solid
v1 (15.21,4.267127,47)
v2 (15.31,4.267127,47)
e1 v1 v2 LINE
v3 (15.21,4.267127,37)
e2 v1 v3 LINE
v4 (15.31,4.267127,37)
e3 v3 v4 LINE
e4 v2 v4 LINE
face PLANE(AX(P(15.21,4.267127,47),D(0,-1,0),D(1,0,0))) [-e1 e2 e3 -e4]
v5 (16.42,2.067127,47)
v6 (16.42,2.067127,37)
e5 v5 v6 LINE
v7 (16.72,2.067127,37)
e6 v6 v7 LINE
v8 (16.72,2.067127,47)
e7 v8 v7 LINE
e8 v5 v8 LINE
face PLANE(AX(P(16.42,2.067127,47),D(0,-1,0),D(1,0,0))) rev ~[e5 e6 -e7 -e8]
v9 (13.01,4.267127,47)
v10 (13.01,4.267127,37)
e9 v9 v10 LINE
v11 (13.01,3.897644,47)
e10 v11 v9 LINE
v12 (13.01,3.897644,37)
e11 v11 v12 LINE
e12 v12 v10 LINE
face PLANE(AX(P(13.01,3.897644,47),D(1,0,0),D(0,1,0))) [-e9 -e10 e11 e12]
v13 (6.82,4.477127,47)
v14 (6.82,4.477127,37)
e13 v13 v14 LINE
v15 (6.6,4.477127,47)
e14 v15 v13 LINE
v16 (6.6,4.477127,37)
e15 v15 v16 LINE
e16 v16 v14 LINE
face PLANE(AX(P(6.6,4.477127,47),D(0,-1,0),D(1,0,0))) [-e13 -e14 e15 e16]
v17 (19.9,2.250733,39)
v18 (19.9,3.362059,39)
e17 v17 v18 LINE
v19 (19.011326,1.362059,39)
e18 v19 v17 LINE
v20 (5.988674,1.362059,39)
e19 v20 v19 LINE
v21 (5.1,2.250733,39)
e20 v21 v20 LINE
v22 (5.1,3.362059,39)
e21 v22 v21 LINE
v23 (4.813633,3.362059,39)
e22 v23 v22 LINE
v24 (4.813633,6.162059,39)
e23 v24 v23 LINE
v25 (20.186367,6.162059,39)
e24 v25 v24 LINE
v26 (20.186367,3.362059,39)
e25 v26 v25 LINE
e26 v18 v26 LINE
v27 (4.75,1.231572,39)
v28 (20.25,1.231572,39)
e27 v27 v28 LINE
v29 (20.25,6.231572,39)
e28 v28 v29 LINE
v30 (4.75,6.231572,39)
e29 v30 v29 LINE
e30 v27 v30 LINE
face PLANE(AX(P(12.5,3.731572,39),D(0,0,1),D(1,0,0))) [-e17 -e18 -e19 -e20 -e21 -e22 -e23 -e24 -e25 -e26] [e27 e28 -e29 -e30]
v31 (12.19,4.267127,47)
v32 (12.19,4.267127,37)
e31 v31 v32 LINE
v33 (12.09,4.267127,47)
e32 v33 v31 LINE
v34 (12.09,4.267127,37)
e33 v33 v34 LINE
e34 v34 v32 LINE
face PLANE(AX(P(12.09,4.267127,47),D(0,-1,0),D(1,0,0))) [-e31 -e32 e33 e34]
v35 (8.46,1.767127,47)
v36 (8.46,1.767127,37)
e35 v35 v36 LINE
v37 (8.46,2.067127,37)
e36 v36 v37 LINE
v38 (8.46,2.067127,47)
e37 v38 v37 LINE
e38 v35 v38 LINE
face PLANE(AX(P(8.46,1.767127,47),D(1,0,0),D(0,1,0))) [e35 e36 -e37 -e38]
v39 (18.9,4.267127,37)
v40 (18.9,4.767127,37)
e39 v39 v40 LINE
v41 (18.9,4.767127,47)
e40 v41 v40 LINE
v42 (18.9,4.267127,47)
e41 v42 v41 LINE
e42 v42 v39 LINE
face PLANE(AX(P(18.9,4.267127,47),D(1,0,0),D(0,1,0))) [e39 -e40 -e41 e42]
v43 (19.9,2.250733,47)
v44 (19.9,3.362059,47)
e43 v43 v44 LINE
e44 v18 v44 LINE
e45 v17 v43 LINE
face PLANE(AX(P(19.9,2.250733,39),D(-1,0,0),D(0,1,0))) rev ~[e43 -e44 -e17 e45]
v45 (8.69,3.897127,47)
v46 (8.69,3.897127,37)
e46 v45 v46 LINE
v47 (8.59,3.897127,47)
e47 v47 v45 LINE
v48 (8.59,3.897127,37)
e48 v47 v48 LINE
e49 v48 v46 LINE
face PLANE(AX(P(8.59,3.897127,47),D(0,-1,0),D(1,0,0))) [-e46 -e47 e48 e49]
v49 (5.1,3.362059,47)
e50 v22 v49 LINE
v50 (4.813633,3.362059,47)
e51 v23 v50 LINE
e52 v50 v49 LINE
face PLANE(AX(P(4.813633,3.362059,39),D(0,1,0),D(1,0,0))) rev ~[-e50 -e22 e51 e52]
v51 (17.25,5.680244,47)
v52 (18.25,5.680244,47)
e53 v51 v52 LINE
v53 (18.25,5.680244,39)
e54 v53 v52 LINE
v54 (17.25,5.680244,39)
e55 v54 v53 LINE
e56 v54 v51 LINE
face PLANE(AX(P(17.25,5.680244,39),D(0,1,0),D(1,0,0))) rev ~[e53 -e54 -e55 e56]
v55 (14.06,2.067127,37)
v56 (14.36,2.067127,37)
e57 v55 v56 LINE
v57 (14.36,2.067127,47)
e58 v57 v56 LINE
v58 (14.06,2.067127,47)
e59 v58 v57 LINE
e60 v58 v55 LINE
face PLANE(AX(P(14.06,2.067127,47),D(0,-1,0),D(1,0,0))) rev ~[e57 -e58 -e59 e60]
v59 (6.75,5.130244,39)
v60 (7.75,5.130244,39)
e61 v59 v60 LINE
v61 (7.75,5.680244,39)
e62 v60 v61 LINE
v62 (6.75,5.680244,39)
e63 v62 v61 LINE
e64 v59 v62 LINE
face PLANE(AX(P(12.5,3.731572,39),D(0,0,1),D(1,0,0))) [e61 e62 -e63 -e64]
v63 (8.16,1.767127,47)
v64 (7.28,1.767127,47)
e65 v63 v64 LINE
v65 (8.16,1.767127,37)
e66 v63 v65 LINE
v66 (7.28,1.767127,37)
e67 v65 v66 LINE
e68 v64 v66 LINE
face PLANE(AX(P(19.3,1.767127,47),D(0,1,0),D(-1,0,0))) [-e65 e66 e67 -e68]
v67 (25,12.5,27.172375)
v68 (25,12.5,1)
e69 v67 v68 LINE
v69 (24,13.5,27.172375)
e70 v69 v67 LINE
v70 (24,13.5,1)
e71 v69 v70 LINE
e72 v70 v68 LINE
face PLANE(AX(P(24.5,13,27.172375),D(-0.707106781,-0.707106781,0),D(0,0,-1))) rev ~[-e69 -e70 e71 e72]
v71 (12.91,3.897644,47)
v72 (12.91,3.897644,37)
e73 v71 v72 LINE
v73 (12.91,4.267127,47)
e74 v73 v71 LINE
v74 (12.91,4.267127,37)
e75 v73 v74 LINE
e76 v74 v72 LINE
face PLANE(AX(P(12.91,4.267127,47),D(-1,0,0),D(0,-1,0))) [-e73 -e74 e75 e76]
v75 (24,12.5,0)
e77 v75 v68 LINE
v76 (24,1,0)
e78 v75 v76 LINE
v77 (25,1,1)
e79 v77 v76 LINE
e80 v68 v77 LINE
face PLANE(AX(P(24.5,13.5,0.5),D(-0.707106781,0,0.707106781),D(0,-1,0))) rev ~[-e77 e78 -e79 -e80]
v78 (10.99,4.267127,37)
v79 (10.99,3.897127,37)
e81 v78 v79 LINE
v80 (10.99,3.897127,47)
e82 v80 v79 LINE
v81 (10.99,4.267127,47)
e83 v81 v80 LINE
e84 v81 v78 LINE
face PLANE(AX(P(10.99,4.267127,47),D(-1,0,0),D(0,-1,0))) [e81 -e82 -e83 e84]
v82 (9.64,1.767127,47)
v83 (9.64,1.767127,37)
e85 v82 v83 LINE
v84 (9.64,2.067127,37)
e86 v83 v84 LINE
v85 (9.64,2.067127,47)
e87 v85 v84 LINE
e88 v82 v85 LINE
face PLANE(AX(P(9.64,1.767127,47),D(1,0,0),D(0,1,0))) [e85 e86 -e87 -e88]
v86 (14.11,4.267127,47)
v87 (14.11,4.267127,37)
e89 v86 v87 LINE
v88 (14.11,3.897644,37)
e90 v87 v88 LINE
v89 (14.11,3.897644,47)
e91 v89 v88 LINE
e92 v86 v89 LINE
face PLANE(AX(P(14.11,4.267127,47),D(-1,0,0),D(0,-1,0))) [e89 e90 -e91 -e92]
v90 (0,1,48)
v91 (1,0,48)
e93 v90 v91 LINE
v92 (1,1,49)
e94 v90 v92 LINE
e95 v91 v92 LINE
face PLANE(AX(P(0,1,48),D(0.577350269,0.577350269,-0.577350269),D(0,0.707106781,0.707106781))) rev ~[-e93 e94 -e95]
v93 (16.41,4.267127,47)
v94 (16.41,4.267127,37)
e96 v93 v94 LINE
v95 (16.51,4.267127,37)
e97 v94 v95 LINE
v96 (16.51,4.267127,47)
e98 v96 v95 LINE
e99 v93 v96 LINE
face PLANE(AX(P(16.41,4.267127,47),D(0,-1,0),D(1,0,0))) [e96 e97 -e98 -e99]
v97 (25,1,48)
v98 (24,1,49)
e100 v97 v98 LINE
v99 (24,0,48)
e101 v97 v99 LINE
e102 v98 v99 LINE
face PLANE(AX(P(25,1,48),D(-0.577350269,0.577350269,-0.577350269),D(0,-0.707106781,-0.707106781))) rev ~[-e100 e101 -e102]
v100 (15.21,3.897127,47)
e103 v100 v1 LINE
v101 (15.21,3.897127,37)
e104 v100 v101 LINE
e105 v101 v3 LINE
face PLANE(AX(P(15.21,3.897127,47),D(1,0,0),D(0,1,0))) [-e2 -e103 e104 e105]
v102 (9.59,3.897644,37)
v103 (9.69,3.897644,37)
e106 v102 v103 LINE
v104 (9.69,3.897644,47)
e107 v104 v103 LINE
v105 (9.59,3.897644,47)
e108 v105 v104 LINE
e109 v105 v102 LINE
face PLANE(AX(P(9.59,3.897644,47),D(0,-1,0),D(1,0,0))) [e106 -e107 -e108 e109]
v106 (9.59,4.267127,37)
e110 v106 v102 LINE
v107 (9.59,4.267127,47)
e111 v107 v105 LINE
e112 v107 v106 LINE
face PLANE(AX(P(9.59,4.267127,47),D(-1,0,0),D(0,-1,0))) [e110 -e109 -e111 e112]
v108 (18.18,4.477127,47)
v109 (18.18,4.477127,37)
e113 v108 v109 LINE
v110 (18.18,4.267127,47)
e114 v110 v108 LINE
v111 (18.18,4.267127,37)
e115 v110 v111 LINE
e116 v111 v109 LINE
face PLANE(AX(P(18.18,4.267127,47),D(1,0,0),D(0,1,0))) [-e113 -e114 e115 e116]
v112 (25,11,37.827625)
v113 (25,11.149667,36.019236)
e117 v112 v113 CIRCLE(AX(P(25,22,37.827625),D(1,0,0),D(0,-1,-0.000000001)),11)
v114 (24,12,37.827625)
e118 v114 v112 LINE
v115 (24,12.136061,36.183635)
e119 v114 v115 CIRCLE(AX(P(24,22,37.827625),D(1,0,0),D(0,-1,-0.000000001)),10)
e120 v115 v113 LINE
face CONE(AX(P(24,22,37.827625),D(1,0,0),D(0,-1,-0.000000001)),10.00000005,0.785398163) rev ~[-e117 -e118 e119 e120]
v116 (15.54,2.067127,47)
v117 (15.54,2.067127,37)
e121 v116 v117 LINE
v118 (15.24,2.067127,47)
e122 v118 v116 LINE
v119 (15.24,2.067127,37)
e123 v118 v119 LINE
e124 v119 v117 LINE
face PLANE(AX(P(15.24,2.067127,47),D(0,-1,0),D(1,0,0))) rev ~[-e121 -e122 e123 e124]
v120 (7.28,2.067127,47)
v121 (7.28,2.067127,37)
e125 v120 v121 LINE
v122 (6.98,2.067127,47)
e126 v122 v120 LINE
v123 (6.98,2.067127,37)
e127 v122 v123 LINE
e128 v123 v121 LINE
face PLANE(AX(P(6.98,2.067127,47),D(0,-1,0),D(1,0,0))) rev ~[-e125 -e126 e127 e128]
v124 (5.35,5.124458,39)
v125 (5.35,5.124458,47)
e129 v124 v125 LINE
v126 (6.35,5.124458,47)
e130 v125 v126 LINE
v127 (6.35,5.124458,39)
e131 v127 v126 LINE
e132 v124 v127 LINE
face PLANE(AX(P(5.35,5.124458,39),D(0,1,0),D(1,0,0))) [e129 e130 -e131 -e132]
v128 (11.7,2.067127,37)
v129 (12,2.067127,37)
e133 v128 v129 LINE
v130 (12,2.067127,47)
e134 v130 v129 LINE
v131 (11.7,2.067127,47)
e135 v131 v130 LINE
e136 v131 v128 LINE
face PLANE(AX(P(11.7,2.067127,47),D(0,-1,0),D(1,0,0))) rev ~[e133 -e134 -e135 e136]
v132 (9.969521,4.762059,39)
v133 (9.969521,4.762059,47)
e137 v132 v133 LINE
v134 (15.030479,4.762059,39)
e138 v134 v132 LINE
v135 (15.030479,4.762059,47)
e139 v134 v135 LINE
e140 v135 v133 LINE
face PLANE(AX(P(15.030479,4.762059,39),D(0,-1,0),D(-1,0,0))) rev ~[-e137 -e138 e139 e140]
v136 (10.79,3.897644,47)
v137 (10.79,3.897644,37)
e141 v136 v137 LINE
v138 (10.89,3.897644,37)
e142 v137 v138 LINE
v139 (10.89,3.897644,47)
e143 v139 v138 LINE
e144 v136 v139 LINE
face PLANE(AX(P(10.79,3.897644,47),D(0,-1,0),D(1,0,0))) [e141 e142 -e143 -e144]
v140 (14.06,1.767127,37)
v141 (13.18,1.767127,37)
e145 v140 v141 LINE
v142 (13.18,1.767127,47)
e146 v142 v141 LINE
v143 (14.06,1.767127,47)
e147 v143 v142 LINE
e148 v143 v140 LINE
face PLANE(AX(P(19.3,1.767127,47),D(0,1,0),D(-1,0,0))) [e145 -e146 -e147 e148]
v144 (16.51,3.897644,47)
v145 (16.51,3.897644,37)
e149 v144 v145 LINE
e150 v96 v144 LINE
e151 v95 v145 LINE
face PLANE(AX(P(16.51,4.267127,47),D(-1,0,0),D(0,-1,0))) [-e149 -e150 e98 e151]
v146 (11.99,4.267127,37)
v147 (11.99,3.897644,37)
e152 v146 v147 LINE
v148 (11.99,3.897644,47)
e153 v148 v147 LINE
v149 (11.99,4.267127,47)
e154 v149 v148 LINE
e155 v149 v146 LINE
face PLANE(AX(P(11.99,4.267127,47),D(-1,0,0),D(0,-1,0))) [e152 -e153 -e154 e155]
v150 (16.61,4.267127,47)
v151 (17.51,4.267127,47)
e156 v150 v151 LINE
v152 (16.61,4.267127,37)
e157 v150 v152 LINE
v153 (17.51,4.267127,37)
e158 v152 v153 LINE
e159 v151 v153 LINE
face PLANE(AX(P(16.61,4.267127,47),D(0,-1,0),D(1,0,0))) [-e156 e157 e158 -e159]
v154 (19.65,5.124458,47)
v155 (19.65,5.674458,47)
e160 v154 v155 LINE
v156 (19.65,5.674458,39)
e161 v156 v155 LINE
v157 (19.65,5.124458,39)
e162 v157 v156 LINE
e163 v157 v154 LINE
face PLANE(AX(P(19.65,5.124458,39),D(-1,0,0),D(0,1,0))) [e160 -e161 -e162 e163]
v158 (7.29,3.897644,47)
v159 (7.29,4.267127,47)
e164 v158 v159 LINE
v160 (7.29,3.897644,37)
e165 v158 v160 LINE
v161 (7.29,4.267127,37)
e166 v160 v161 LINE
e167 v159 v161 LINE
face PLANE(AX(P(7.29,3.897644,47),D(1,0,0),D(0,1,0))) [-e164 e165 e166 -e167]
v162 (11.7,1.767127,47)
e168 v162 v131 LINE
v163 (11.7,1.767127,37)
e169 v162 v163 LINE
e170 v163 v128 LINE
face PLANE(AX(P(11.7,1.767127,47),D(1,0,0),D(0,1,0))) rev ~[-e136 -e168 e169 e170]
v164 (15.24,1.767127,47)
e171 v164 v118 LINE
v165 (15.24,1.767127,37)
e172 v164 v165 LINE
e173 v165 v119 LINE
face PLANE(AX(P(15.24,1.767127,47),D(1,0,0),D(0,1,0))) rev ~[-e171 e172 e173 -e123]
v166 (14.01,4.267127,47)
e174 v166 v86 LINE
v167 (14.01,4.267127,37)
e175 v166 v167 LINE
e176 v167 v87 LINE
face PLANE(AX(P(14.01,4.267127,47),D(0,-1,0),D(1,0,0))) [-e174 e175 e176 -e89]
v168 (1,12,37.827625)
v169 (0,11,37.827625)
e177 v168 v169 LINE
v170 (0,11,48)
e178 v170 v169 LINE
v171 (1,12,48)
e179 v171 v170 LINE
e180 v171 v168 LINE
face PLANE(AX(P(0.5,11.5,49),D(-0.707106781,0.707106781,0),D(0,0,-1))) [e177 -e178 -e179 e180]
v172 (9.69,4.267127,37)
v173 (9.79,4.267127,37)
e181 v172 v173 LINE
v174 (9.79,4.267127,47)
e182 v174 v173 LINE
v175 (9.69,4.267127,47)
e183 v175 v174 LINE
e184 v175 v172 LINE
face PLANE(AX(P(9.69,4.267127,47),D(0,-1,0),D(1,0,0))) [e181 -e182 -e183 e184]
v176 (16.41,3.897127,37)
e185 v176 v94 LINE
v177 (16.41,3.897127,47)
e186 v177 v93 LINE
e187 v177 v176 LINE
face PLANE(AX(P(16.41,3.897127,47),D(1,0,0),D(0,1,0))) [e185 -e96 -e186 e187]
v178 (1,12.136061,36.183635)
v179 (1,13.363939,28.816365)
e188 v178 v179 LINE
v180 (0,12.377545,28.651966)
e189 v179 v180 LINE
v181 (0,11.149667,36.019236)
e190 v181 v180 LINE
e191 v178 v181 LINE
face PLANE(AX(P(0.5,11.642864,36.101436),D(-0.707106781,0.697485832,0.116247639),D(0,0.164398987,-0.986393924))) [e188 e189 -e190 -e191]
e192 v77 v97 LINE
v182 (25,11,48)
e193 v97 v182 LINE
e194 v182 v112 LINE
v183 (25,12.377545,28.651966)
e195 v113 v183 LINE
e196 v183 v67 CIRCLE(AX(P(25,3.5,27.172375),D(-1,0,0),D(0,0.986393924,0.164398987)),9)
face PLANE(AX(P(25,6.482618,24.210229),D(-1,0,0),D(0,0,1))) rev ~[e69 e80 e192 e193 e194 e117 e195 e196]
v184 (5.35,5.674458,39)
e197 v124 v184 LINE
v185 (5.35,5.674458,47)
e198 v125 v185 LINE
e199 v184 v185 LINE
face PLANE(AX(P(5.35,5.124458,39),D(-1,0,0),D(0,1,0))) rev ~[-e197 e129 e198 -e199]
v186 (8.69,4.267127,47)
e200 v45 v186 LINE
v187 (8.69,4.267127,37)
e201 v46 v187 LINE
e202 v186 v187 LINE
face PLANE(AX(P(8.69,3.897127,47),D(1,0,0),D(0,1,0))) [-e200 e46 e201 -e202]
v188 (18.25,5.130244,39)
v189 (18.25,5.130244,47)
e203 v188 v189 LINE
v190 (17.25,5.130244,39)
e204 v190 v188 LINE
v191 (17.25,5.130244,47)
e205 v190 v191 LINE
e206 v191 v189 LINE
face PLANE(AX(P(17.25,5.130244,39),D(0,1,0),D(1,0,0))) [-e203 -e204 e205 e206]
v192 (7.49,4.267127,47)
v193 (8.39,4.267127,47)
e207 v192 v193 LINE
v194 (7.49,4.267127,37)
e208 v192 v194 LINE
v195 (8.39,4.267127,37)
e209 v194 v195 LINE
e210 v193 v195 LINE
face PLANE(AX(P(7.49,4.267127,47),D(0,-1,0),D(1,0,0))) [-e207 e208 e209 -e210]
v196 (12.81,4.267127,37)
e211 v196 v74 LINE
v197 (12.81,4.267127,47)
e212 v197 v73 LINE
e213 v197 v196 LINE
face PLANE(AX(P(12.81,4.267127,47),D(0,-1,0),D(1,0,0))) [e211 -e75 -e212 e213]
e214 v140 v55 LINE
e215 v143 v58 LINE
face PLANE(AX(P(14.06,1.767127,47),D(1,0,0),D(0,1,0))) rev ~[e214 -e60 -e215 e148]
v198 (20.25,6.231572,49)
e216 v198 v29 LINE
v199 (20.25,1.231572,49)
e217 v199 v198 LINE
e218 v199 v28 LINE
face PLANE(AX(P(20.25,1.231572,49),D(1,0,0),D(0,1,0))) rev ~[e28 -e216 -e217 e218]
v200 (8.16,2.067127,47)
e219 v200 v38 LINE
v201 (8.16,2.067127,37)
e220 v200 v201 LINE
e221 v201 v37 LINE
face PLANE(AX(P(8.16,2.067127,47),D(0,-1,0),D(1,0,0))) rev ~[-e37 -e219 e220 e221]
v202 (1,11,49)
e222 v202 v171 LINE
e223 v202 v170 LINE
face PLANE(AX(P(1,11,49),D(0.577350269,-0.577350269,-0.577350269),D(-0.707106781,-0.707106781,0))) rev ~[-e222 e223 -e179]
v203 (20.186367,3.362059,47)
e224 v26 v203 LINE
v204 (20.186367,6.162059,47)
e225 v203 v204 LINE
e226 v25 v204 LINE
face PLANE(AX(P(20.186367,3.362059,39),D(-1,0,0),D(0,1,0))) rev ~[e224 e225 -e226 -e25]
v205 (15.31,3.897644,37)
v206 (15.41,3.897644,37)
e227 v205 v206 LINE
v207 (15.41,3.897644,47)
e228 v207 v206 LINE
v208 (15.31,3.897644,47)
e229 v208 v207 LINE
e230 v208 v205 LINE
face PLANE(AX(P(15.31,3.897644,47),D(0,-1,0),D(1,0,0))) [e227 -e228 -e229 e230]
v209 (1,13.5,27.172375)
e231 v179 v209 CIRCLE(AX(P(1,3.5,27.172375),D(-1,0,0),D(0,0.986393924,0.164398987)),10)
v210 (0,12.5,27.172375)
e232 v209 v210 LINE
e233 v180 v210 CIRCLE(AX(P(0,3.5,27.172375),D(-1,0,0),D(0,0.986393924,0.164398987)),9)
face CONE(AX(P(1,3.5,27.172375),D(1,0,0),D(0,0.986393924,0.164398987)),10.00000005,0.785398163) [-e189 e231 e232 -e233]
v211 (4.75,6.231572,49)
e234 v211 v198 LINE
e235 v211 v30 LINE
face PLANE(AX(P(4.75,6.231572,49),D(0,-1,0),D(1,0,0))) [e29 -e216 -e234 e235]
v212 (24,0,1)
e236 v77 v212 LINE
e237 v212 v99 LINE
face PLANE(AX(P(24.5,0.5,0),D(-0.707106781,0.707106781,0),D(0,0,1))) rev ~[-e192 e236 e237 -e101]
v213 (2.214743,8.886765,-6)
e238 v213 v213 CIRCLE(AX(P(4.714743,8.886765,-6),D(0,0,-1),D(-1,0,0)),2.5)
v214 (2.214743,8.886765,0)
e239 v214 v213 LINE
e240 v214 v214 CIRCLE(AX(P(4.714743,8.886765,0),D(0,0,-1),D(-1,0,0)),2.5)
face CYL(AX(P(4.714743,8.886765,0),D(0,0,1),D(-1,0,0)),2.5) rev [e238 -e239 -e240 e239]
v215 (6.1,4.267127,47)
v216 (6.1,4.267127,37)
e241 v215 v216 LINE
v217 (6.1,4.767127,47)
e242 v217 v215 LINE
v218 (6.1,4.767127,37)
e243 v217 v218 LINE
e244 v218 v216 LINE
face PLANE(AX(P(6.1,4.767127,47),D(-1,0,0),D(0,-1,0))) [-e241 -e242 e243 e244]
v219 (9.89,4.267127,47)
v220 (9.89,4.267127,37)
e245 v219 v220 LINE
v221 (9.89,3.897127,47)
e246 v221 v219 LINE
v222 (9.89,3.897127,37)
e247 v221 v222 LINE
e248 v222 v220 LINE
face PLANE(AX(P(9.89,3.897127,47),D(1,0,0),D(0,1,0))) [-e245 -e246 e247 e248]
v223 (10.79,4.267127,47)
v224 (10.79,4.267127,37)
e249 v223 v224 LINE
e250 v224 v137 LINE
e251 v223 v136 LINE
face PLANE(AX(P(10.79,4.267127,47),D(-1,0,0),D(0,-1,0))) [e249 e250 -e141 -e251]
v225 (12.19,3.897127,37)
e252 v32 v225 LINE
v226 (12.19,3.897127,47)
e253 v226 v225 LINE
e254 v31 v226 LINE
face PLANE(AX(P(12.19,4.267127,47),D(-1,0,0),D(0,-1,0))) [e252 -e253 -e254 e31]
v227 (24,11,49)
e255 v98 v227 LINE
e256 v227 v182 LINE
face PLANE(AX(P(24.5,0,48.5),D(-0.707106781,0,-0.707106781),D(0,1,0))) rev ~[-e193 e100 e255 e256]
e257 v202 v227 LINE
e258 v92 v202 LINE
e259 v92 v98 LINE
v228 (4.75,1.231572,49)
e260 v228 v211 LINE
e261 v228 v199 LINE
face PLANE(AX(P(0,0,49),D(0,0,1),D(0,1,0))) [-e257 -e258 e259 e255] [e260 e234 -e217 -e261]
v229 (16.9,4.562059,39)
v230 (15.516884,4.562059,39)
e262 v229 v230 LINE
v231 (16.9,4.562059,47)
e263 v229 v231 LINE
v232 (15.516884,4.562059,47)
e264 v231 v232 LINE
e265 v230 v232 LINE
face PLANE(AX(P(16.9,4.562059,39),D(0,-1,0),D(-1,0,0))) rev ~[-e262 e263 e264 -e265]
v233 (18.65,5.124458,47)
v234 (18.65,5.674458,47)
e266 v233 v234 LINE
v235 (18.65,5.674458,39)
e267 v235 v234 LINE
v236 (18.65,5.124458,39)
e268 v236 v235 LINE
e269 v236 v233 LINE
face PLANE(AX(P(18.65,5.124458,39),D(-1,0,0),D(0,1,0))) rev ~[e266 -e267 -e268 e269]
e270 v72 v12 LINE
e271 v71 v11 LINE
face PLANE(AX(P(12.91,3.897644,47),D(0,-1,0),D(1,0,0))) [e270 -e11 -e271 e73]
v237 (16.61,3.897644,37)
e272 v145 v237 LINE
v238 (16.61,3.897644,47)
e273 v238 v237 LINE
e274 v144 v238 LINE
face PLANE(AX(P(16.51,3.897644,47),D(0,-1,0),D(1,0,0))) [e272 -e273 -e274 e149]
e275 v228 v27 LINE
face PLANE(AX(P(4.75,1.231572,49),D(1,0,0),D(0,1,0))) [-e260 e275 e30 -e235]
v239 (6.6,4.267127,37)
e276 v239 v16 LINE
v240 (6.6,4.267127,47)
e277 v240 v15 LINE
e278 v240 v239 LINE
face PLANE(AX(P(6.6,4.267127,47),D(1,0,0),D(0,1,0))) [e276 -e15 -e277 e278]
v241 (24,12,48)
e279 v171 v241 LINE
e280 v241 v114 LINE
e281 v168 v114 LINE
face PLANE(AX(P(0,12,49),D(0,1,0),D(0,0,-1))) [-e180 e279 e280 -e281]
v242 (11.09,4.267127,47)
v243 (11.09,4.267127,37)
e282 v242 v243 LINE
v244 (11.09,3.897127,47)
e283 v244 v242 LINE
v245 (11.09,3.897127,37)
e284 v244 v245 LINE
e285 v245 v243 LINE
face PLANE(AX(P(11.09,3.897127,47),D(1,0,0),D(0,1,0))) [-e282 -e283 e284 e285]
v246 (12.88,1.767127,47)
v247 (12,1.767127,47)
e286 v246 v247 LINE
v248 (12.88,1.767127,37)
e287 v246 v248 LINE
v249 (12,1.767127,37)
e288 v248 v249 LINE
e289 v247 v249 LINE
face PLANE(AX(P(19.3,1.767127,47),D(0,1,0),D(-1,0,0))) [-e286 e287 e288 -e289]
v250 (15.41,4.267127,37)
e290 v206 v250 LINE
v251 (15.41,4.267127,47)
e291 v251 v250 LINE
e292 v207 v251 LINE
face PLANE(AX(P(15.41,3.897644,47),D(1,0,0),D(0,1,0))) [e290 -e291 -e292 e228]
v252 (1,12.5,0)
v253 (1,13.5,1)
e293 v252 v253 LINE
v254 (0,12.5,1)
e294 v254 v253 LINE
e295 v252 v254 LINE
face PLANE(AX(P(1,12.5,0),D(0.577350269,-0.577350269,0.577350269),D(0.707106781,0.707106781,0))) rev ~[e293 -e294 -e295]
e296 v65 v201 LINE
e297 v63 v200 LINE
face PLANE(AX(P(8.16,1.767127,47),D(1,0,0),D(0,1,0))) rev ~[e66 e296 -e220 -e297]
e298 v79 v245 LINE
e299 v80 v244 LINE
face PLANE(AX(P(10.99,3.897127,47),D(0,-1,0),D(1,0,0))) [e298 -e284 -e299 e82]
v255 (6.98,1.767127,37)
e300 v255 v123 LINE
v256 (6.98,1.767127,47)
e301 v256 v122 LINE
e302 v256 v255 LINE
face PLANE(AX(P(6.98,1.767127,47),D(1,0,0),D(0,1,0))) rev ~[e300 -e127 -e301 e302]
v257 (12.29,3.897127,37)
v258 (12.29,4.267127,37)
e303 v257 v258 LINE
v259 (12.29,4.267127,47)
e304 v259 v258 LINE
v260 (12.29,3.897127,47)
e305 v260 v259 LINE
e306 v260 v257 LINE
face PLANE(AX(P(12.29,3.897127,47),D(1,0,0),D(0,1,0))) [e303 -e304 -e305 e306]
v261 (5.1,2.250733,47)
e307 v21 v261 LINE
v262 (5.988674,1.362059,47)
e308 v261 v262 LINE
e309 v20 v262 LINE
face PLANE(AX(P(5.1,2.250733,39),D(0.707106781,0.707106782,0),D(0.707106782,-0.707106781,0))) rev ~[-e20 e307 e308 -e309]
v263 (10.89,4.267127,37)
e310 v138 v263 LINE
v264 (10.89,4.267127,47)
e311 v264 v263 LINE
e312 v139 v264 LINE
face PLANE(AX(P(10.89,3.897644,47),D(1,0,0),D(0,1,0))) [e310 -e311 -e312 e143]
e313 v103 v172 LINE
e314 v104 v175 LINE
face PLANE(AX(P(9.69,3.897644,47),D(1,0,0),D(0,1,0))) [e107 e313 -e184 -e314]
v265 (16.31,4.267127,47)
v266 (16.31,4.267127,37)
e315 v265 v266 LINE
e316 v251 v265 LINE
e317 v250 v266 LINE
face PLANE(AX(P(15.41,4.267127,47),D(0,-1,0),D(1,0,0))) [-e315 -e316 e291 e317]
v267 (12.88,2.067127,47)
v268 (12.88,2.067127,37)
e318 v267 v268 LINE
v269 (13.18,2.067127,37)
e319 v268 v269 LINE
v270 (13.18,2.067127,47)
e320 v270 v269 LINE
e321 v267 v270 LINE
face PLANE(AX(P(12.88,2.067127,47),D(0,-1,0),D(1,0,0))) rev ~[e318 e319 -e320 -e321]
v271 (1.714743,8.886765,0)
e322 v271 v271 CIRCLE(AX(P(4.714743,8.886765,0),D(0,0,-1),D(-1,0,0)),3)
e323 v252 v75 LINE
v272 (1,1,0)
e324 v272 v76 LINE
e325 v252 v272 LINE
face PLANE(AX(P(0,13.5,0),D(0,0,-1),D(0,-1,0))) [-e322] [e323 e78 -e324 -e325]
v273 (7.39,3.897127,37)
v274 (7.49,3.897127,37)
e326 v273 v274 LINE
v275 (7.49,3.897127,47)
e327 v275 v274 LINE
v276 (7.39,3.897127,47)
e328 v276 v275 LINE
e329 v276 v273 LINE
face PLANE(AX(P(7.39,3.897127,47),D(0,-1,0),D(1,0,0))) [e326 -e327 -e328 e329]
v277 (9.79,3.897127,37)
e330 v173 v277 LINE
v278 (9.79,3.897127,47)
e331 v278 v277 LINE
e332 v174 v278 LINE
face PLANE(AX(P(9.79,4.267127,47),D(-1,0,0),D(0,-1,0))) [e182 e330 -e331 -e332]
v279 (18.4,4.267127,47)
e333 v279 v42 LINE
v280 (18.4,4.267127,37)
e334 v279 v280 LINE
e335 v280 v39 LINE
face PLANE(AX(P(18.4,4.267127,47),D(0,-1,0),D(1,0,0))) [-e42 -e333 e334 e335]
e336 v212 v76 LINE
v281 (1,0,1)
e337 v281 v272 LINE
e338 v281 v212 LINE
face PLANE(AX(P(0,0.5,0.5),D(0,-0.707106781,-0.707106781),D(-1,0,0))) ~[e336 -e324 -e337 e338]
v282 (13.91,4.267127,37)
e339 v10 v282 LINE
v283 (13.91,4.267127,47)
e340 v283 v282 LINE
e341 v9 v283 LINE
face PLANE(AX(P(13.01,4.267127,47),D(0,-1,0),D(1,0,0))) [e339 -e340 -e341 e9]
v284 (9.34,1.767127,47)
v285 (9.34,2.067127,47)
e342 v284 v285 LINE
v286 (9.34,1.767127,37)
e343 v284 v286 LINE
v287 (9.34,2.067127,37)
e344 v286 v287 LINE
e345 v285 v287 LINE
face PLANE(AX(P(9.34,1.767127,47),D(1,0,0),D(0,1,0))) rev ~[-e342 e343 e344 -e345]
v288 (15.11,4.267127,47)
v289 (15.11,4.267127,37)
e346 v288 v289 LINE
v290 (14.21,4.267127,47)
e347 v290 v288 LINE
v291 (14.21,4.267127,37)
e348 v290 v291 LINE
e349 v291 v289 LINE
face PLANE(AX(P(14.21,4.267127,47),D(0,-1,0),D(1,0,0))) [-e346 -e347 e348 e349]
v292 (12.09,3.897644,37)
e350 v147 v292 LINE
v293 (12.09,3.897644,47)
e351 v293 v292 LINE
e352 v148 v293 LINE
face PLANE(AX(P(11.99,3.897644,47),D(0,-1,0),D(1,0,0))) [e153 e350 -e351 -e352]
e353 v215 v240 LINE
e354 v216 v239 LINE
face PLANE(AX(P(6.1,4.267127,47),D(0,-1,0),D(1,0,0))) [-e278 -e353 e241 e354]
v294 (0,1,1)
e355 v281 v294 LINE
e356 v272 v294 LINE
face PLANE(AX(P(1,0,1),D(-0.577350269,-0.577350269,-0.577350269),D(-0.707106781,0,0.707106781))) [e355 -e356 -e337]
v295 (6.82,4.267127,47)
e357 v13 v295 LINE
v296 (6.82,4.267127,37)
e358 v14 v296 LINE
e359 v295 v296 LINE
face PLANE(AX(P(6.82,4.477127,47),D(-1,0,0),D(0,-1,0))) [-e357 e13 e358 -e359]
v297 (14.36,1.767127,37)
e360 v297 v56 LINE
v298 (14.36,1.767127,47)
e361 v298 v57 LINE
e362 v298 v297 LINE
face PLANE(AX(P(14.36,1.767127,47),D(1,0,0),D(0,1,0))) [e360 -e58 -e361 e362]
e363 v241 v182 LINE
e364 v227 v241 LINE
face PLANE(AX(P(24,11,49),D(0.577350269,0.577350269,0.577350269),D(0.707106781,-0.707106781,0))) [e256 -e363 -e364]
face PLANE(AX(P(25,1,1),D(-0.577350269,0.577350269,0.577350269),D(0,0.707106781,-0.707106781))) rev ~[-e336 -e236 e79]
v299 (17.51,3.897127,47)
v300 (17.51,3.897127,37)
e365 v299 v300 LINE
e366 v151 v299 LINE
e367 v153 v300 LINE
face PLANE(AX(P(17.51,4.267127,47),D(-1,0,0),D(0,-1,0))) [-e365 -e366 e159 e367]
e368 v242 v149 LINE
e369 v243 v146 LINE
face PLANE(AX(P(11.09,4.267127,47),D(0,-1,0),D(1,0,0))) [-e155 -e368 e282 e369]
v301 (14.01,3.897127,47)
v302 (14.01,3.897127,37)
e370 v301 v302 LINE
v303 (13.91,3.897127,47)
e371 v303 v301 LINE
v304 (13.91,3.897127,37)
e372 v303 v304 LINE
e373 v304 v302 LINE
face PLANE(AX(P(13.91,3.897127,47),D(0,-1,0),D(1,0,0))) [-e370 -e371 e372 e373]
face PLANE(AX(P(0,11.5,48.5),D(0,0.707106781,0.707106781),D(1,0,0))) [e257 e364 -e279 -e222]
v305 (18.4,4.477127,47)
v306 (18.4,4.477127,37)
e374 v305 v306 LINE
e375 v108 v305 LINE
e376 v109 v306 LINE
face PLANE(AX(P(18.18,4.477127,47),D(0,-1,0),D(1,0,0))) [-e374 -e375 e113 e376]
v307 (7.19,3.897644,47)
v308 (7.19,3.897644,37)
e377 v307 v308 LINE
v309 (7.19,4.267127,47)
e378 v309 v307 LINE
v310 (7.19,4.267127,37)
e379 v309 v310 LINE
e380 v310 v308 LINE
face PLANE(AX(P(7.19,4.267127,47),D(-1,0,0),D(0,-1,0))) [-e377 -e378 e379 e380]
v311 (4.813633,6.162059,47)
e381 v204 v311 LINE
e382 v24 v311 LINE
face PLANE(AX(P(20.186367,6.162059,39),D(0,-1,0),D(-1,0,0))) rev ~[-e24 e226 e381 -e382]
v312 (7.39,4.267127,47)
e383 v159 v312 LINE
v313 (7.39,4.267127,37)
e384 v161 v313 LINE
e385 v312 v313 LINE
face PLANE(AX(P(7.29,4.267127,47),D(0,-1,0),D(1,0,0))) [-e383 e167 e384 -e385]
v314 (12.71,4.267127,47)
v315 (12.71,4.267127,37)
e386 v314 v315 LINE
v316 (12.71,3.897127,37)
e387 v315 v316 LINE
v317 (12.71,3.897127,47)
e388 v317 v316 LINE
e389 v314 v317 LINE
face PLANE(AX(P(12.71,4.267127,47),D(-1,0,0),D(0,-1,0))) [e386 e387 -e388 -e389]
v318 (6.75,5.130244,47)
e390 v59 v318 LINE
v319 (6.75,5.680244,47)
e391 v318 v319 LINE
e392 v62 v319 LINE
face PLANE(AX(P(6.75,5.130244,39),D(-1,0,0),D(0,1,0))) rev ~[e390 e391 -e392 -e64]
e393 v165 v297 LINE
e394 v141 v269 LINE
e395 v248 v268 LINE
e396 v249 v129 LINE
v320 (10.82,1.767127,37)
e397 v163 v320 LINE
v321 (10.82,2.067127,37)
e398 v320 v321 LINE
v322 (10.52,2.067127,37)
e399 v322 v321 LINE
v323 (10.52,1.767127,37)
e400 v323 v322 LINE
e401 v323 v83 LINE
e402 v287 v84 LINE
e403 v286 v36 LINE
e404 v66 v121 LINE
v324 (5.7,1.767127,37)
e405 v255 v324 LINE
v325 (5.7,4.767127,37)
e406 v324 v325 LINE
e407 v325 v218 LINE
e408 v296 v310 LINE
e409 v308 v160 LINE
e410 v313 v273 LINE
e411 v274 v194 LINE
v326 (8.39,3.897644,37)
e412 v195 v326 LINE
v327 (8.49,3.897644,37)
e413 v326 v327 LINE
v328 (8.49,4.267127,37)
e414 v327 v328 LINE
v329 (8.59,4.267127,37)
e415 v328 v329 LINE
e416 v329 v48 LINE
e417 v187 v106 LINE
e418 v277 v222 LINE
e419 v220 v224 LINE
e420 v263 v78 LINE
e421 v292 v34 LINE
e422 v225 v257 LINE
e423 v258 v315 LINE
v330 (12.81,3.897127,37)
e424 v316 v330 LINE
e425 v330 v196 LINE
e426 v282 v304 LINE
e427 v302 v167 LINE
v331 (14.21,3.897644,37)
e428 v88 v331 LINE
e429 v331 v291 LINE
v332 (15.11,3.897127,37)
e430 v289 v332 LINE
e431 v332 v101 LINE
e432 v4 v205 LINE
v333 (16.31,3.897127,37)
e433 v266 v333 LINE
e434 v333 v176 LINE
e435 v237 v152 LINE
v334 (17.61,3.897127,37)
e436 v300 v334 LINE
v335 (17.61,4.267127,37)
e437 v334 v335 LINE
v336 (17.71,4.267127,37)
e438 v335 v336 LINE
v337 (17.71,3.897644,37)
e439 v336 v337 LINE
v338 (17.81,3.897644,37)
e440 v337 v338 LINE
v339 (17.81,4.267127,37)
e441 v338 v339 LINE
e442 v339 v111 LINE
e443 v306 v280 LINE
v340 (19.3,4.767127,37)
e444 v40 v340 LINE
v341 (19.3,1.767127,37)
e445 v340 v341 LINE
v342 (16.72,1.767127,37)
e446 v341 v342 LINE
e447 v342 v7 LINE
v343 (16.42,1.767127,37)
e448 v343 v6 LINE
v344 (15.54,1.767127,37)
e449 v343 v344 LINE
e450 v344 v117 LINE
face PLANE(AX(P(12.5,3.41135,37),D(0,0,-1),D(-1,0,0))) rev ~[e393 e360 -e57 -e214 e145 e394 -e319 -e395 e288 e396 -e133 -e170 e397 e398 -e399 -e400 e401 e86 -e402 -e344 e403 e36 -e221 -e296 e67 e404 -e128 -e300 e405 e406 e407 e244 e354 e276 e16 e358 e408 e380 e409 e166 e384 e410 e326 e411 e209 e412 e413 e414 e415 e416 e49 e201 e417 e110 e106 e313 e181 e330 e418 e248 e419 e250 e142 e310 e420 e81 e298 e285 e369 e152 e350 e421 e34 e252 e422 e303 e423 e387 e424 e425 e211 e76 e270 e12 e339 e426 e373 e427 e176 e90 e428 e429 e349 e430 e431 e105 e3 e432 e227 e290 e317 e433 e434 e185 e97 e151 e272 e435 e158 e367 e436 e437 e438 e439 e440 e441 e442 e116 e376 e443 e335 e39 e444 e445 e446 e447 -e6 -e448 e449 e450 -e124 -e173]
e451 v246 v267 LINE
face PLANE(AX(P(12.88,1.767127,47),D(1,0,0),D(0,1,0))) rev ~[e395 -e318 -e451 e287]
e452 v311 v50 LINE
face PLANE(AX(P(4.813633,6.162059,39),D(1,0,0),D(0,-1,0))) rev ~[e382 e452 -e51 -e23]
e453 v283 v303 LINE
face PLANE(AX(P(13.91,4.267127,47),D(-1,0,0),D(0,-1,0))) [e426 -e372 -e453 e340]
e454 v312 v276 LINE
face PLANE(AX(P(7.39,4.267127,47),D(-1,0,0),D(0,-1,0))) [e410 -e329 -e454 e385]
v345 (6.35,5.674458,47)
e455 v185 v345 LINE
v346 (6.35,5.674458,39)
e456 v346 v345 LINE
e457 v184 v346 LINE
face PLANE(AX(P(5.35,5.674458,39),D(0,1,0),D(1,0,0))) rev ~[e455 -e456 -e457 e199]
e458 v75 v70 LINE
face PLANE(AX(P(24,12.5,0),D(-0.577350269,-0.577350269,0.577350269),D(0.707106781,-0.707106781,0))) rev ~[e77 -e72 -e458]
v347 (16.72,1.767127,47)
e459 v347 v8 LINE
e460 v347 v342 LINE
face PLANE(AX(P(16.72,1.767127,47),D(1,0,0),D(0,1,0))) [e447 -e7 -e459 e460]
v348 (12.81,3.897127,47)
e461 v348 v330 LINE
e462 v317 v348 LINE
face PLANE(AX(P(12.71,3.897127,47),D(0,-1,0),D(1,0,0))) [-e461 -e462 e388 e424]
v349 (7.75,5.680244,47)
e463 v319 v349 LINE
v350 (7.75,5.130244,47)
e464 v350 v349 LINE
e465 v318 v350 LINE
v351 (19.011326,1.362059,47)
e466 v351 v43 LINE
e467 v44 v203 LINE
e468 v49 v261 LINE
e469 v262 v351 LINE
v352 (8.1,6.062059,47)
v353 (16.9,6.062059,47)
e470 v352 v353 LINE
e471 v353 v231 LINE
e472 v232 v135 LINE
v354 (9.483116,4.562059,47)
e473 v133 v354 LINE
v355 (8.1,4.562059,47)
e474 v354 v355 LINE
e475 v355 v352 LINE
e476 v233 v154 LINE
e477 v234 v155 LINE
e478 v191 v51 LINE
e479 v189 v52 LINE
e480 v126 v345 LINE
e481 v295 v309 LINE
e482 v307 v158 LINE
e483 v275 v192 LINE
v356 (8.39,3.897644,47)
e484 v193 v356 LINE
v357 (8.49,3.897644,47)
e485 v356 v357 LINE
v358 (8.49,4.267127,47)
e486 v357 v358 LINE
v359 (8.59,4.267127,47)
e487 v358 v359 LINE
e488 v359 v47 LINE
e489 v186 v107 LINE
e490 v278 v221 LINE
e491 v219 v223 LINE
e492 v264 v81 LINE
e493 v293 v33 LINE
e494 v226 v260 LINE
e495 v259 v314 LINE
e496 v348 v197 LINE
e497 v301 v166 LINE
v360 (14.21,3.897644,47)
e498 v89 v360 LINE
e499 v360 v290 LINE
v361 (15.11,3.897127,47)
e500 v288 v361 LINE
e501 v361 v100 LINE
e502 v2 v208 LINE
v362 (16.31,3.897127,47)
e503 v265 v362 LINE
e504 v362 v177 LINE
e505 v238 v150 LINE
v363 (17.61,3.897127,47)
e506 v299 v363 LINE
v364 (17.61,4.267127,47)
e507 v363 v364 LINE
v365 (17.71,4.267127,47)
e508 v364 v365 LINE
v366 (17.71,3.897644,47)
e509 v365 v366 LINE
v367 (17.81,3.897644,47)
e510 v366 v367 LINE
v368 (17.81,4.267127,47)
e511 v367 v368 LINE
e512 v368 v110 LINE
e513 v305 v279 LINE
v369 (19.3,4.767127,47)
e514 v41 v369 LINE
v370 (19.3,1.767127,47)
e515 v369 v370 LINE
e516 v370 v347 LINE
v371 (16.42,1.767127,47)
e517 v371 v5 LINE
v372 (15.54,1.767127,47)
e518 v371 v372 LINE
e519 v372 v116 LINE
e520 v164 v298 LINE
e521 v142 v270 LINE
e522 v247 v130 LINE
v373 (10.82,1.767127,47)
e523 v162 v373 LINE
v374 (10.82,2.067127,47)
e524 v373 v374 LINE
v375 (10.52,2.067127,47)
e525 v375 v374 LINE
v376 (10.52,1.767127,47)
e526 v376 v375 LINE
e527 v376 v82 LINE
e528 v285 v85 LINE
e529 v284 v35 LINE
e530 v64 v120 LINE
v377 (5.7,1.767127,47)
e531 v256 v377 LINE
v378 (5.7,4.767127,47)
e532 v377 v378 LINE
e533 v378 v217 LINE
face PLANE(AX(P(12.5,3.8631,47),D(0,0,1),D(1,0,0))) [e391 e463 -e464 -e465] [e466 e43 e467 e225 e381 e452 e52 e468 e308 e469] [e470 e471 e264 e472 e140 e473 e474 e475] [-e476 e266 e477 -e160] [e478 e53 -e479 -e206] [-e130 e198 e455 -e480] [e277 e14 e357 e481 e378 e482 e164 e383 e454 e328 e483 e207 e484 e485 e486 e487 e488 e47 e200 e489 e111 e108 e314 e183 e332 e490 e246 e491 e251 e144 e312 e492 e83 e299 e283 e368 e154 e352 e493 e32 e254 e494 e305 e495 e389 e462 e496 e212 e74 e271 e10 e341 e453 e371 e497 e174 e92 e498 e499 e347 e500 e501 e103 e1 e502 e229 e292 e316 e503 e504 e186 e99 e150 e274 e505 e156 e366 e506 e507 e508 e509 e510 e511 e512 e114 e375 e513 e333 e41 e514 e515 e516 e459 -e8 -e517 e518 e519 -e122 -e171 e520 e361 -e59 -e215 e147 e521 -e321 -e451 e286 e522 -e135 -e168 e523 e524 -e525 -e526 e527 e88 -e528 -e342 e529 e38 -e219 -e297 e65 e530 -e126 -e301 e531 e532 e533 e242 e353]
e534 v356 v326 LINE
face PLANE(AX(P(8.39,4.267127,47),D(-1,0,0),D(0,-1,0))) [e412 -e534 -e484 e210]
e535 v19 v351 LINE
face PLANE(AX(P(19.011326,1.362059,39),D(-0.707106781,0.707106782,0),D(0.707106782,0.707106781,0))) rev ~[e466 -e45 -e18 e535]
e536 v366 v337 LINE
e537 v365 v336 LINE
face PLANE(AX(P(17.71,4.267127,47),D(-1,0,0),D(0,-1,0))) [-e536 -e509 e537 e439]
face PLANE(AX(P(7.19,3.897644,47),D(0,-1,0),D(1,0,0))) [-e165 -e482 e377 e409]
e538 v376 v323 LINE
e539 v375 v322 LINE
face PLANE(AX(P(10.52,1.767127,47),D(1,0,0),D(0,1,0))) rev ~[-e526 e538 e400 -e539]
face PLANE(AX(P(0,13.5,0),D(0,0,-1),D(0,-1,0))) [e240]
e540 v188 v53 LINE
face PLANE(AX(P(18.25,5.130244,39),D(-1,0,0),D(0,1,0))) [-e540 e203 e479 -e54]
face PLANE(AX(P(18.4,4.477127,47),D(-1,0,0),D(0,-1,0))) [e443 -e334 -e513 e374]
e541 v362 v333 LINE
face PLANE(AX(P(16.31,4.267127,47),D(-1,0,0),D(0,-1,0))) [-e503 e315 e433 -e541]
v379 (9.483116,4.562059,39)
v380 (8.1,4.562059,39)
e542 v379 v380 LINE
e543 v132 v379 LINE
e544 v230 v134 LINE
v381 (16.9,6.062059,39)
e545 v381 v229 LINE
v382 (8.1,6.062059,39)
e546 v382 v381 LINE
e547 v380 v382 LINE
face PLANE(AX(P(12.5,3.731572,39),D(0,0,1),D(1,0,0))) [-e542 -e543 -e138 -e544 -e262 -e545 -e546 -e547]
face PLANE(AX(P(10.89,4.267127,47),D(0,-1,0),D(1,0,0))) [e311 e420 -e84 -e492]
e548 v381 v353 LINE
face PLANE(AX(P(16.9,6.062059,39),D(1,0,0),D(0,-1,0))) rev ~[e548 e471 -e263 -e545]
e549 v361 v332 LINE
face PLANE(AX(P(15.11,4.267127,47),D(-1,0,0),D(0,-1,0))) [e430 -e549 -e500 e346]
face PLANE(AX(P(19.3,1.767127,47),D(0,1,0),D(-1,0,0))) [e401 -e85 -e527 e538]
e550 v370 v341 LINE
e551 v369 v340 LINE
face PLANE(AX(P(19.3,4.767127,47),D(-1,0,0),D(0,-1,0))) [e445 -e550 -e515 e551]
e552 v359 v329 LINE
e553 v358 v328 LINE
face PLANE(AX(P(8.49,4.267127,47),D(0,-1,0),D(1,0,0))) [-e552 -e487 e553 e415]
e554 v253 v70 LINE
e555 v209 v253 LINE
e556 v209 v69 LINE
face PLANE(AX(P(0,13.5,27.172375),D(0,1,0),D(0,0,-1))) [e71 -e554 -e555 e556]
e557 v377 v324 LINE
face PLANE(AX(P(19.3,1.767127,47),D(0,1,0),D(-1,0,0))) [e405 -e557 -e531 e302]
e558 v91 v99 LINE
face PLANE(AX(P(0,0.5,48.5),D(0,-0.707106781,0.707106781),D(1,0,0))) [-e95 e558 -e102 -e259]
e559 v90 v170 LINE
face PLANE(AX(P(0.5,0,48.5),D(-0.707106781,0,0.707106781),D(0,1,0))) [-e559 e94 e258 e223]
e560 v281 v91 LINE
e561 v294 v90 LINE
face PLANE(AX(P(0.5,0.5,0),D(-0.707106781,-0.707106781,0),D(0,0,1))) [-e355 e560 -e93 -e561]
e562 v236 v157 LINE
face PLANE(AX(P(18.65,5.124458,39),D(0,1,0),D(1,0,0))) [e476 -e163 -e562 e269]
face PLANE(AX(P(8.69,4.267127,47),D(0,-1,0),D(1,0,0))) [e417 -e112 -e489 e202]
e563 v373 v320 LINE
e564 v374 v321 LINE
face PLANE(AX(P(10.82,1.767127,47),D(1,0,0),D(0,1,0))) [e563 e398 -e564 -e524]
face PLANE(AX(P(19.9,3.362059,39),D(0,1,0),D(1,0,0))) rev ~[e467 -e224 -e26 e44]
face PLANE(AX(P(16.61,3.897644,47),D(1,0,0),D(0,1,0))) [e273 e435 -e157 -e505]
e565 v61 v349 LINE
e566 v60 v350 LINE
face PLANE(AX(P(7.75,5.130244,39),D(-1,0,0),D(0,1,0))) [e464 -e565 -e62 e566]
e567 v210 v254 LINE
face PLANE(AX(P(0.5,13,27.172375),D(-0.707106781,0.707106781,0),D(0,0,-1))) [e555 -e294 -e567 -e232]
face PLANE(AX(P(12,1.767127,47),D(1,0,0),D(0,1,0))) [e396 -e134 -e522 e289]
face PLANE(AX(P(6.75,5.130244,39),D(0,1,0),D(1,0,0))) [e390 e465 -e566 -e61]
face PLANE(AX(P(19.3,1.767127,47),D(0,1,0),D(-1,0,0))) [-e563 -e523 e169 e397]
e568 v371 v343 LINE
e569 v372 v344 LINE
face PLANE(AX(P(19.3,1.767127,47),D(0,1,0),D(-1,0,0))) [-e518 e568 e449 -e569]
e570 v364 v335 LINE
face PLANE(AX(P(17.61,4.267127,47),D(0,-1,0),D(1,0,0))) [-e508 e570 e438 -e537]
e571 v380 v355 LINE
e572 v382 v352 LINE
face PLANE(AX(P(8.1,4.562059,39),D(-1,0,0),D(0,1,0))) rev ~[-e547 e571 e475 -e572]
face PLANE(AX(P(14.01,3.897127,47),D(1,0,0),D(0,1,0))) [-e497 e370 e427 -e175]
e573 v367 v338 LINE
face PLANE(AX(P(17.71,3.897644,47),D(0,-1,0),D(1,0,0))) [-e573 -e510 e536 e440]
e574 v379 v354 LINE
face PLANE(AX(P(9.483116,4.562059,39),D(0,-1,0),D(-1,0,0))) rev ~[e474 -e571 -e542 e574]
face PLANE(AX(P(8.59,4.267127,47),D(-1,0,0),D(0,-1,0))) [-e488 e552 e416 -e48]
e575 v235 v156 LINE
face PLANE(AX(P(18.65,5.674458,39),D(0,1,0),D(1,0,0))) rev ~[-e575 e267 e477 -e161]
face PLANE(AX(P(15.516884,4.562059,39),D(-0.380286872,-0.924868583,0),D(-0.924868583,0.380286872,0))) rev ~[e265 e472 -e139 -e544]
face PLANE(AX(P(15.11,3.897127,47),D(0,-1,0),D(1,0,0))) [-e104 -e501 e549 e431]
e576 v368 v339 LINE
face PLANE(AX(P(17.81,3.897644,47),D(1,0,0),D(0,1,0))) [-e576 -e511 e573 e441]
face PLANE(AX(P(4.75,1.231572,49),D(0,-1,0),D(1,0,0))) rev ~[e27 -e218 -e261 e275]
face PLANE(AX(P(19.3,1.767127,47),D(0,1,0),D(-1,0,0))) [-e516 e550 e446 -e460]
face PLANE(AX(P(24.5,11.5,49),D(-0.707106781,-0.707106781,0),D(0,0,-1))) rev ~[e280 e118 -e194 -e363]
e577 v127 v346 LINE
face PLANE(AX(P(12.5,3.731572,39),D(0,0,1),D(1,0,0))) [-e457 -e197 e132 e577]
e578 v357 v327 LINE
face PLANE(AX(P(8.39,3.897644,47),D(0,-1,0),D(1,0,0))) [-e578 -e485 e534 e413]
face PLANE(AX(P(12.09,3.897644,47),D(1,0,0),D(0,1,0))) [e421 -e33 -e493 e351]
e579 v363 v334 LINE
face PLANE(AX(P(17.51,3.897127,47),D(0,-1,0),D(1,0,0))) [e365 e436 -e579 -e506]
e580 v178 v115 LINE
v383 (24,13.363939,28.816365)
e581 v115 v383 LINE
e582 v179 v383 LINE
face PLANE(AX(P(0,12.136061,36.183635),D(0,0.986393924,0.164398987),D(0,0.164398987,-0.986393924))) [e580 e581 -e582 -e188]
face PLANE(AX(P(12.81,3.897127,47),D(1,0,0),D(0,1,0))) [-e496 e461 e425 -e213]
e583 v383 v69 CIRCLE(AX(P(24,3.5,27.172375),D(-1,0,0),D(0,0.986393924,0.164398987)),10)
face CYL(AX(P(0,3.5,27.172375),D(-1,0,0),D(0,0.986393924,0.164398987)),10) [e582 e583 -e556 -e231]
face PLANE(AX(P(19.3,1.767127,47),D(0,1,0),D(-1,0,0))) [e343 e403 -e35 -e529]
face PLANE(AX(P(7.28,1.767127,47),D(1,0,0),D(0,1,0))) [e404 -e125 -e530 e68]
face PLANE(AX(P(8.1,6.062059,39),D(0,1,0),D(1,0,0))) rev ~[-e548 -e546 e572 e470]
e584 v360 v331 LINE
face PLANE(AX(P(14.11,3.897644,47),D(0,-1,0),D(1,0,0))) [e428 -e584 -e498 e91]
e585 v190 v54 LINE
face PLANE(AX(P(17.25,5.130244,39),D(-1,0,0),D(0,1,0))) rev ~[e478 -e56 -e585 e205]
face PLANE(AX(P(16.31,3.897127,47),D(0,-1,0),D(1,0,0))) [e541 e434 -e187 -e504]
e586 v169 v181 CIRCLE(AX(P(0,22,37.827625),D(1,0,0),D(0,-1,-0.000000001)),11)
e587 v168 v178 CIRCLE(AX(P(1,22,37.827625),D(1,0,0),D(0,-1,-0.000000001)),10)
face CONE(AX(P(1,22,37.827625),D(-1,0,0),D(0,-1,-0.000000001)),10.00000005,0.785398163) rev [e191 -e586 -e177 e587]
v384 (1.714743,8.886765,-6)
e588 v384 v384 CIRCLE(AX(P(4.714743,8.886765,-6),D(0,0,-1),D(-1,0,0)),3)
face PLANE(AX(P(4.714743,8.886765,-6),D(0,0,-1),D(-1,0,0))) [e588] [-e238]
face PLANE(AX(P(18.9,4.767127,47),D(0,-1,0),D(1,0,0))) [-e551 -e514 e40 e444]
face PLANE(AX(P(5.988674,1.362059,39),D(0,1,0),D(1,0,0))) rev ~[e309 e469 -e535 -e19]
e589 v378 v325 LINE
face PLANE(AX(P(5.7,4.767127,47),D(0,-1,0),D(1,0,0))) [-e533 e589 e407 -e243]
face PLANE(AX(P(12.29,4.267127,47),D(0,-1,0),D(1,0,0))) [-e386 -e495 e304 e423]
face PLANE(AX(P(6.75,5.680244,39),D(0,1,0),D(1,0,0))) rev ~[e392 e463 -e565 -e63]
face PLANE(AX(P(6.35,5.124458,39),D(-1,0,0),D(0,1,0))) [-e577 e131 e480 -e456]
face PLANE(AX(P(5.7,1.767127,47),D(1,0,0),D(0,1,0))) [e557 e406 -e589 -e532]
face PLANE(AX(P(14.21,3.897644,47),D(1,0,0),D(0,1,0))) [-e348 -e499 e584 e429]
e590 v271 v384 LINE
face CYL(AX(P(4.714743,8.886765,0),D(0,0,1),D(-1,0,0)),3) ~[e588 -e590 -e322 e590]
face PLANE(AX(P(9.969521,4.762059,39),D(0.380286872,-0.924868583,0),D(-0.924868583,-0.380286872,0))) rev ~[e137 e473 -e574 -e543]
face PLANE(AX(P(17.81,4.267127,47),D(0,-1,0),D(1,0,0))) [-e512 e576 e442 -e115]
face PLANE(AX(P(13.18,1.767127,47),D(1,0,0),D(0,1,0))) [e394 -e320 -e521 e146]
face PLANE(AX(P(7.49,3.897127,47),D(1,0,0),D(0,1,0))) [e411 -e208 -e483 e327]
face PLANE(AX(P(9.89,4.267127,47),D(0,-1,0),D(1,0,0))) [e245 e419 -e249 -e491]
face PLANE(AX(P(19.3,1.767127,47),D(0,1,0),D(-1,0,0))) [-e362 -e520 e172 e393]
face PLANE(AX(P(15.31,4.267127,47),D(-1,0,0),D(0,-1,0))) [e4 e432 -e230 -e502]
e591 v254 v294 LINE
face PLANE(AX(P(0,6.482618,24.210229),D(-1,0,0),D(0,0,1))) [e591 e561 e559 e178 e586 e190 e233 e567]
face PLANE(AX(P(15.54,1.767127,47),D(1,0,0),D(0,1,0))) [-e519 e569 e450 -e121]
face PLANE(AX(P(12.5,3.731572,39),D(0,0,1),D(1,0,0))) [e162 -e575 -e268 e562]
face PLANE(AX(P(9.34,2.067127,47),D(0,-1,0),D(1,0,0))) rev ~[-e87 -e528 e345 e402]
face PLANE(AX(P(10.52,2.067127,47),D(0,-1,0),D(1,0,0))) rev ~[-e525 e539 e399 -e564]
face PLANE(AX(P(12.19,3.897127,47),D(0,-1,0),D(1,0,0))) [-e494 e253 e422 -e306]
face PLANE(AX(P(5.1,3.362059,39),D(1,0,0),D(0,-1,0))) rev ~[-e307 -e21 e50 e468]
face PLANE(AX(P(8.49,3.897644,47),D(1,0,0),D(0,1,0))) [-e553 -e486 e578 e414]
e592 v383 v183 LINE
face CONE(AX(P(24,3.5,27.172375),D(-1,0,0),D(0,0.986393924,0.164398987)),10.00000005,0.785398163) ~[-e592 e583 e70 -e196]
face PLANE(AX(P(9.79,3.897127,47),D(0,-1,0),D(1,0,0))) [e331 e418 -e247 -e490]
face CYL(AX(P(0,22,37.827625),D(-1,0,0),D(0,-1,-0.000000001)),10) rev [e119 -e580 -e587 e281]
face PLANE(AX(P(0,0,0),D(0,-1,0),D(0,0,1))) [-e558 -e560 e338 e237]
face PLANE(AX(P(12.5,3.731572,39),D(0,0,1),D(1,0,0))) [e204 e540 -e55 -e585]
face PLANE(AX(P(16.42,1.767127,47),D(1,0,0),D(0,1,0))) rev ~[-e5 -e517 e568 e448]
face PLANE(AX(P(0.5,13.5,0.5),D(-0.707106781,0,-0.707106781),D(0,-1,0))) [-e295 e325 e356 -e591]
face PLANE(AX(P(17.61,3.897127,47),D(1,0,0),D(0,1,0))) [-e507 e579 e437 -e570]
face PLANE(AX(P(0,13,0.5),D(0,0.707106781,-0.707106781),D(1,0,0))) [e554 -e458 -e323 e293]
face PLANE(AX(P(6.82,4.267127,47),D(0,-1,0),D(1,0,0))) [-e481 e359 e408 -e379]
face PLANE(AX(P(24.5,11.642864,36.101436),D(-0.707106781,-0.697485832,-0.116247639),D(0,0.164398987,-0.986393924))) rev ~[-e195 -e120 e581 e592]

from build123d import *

# Parameters (mm, degrees)
BOSS_EXTRUDE1_DEPTH = 25
CHAMFER1_SIZE       = 1
SKETCH4_W           = 15.5
SKETCH4_H           = 5
CUT_EXTRUDE1_DEPTH  = 10
SKETCH5_W           = 1
SKETCH5_H           = 0.55
BOSS_EXTRUDE2_DEPTH = 8
CUT_EXTRUDE2_DEPTH  = 10
SKETCH7_W           = 0.3
SKETCH7_H           = 0.3
BOSS_EXTRUDE3_DEPTH = 10
SKETCH8_R           = 3
SKETCH8_R_2         = 2.5
BOSS_EXTRUDE4_DEPTH = 6


with BuildPart() as part:
    # Sketch3 → Boss-Extrude1 (new body)
    with BuildSketch(Plane(origin=(0, 0, 0), x_dir=(0, 0, -1), z_dir=(1, 0, 0))):
        with BuildLine():
            Line((0, 0), (-49, 0))
            Line((-49, 0), (-49, 12))
            Line((-49, 12), (-37.827625303, 12))
            ThreePointArc((-37.827625303, 12), (-37.002819988, 12.03407324), (-36.18363543, 12.136060762))
            Line((-36.18363543, 12.136060762), (-28.81636457, 13.363939238))
            ThreePointArc((-28.81636457, 13.363939238), (-27.997180012, 13.46592676), (-27.172374697, 13.5))
            Line((-27.172374697, 13.5), (0, 13.5))
            Line((0, 13.5), (0, 0))
        make_face()
    extrude(amount=BOSS_EXTRUDE1_DEPTH)

    # Chamfer1
    chamfer1_edges = [part.edges().sort_by_distance(p)[0] for p in [
        (0, 12.75, 32.5),
        (0, 13.46592676, 27.997180012),
        (0, 13.5, 13.586187349),
        (0, 6.75, 0),
        (25, 13.46592676, 27.997180012),
        (12.5, 0, 0),
        (12.5, 0, 49),
        (12.5, 12, 49),
        (12.5, 13.5, 0),
        (25, 12.75, 32.5),
        (25, 12.03407324, 37.002819988),
        (25, 12, 43.413812651),
        (25, 6, 49),
        (25, 0, 24.5),
        (25, 6.75, 0),
        (0, 0, 24.5),
        (25, 13.5, 13.586187349),
        (0, 6, 49),
        (0, 12, 43.413812651),
        (0, 12.03407324, 37.002819988),
    ]]
    chamfer(chamfer1_edges, length=CHAMFER1_SIZE)

    # Sketch4 → Cut-Extrude1 (cut)
    with BuildSketch(Plane.XY.offset(49)):
        with Locations((12.5, 3.731572294)):
            Rectangle(SKETCH4_W, SKETCH4_H)
    extrude(amount=-CUT_EXTRUDE1_DEPTH, mode=Mode.SUBTRACT)

    # Sketch5 → Boss-Extrude2 (add)
    with BuildSketch(Plane.XY.offset(39)):
        Polygon((20.186366737, 6.162059048), (4.813633263, 6.162059048), (4.813633263, 3.362059048), (5.1, 3.362059048), (5.1, 2.250733439), (5.988674392, 1.362059048), (19.011325608, 1.362059048), (19.9, 2.250733439), (19.9, 3.362059048), (20.186366737, 3.362059048), align=None)
        Polygon((8.1, 6.062059048), (16.9, 6.062059048), (16.9, 4.562059048), (15.516884386, 4.562059048), (15.030478648, 4.762059048), (9.969521352, 4.762059048), (9.483115614, 4.562059048), (8.1, 4.562059048), align=None, mode=Mode.SUBTRACT)
        with Locations((17.75, 5.405243542)):
            Rectangle(SKETCH5_W, SKETCH5_H, mode=Mode.SUBTRACT)
        with Locations((19.15, 5.399458355)):
            Rectangle(SKETCH5_W, SKETCH5_H, mode=Mode.SUBTRACT)
        with Locations((5.85, 5.399458355)):
            Rectangle(SKETCH5_W, SKETCH5_H, mode=Mode.SUBTRACT)
        with Locations((7.25, 5.405243542)):
            Rectangle(SKETCH5_W, SKETCH5_H, mode=Mode.SUBTRACT)
    extrude(amount=BOSS_EXTRUDE2_DEPTH)

    # Sketch6 → Cut-Extrude2 (cut)
    with BuildSketch(Plane.XY.offset(47)):
        Polygon((12.29, 4.267126877), (12.71, 4.267126877), (12.71, 3.897126877), (12.81, 3.897126877), (12.81, 4.267126877), (12.91, 4.267126877), (12.91, 3.897644042), (13.01, 3.897644042), (13.01, 4.267126877), (13.91, 4.267126877), (13.91, 3.897126877), (14.01, 3.897126877), (14.01, 4.267126877), (14.11, 4.267126877), (14.11, 3.897644042), (14.21, 3.897644042), (14.21, 4.267126877), (15.11, 4.267126877), (15.11, 3.897126877), (15.21, 3.897126877), (15.21, 4.267126877), (15.31, 4.267126877), (15.31, 3.897644042), (15.41, 3.897644042), (15.41, 4.267126877), (16.31, 4.267126877), (16.31, 3.897126877), (16.41, 3.897126877), (16.41, 4.267126877), (16.51, 4.267126877), (16.51, 3.897644042), (16.61, 3.897644042), (16.61, 4.267126877), (17.51, 4.267126877), (17.51, 3.897126877), (17.61, 3.897126877), (17.61, 4.267126877), (17.71, 4.267126877), (17.71, 3.897644042), (17.81, 3.897644042), (17.81, 4.267126877), (18.18, 4.267126877), (18.18, 4.477126877), (18.4, 4.477126877), (18.4, 4.267126877), (18.9, 4.267126877), (18.9, 4.767126877), (19.3, 4.767126877), (19.3, 1.767126877), (5.7, 1.767126877), (5.7, 4.767126877), (6.1, 4.767126877), (6.1, 4.267126877), (6.6, 4.267126877), (6.6, 4.477126877), (6.82, 4.477126877), (6.82, 4.267126877), (7.19, 4.267126877), (7.19, 3.897644042), (7.29, 3.897644042), (7.29, 4.267126877), (7.39, 4.267126877), (7.39, 3.897126877), (7.49, 3.897126877), (7.49, 4.267126877), (8.39, 4.267126877), (8.39, 3.897644042), (8.49, 3.897644042), (8.49, 4.267126877), (8.59, 4.267126877), (8.59, 3.897126877), (8.69, 3.897126877), (8.69, 4.267126877), (9.59, 4.267126877), (9.59, 3.897644042), (9.69, 3.897644042), (9.69, 4.267126877), (9.79, 4.267126877), (9.79, 3.897126877), (9.89, 3.897126877), (9.89, 4.267126877), (10.79, 4.267126877), (10.79, 3.897644042), (10.89, 3.897644042), (10.89, 4.267126877), (10.99, 4.267126877), (10.99, 3.897126877), (11.09, 3.897126877), (11.09, 4.267126877), (11.99, 4.267126877), (11.99, 3.897644042), (12.09, 3.897644042), (12.09, 4.267126877), (12.19, 4.267126877), (12.19, 3.897126877), (12.29, 3.897126877), align=None)
    extrude(amount=-CUT_EXTRUDE2_DEPTH, mode=Mode.SUBTRACT)

    # Sketch7 → Boss-Extrude3 (add)
    with BuildSketch(Plane.XY.offset(47)):
        with Locations((7.13, 1.917126877)):
            Rectangle(SKETCH7_W, SKETCH7_H)
        with Locations((8.31, 1.917126877)):
            Rectangle(SKETCH7_W, SKETCH7_H)
        with Locations((9.49, 1.917126877)):
            Rectangle(SKETCH7_W, SKETCH7_H)
        with Locations((10.67, 1.917126877)):
            Rectangle(SKETCH7_W, SKETCH7_H)
        with Locations((11.85, 1.917126877)):
            Rectangle(SKETCH7_W, SKETCH7_H)
        with Locations((13.03, 1.917126877)):
            Rectangle(SKETCH7_W, SKETCH7_H)
        with Locations((14.21, 1.917126877)):
            Rectangle(SKETCH7_W, SKETCH7_H)
        with Locations((15.39, 1.917126877)):
            Rectangle(SKETCH7_W, SKETCH7_H)
        with Locations((16.57, 1.917126877)):
            Rectangle(SKETCH7_W, SKETCH7_H)
    extrude(amount=-BOSS_EXTRUDE3_DEPTH)

    # Sketch8 → Boss-Extrude4 (add)
    with BuildSketch(Plane(origin=(0, 0, 0), x_dir=(-1, 0, 0), z_dir=(0, 0, -1))):
        with Locations((-4.714743405, 8.886764937)):
            Circle(SKETCH8_R)
        with Locations((-4.714743405, 8.886764937)):
            Circle(SKETCH8_R_2, mode=Mode.SUBTRACT)
    extrude(amount=BOSS_EXTRUDE4_DEPTH)


solid = part.part
